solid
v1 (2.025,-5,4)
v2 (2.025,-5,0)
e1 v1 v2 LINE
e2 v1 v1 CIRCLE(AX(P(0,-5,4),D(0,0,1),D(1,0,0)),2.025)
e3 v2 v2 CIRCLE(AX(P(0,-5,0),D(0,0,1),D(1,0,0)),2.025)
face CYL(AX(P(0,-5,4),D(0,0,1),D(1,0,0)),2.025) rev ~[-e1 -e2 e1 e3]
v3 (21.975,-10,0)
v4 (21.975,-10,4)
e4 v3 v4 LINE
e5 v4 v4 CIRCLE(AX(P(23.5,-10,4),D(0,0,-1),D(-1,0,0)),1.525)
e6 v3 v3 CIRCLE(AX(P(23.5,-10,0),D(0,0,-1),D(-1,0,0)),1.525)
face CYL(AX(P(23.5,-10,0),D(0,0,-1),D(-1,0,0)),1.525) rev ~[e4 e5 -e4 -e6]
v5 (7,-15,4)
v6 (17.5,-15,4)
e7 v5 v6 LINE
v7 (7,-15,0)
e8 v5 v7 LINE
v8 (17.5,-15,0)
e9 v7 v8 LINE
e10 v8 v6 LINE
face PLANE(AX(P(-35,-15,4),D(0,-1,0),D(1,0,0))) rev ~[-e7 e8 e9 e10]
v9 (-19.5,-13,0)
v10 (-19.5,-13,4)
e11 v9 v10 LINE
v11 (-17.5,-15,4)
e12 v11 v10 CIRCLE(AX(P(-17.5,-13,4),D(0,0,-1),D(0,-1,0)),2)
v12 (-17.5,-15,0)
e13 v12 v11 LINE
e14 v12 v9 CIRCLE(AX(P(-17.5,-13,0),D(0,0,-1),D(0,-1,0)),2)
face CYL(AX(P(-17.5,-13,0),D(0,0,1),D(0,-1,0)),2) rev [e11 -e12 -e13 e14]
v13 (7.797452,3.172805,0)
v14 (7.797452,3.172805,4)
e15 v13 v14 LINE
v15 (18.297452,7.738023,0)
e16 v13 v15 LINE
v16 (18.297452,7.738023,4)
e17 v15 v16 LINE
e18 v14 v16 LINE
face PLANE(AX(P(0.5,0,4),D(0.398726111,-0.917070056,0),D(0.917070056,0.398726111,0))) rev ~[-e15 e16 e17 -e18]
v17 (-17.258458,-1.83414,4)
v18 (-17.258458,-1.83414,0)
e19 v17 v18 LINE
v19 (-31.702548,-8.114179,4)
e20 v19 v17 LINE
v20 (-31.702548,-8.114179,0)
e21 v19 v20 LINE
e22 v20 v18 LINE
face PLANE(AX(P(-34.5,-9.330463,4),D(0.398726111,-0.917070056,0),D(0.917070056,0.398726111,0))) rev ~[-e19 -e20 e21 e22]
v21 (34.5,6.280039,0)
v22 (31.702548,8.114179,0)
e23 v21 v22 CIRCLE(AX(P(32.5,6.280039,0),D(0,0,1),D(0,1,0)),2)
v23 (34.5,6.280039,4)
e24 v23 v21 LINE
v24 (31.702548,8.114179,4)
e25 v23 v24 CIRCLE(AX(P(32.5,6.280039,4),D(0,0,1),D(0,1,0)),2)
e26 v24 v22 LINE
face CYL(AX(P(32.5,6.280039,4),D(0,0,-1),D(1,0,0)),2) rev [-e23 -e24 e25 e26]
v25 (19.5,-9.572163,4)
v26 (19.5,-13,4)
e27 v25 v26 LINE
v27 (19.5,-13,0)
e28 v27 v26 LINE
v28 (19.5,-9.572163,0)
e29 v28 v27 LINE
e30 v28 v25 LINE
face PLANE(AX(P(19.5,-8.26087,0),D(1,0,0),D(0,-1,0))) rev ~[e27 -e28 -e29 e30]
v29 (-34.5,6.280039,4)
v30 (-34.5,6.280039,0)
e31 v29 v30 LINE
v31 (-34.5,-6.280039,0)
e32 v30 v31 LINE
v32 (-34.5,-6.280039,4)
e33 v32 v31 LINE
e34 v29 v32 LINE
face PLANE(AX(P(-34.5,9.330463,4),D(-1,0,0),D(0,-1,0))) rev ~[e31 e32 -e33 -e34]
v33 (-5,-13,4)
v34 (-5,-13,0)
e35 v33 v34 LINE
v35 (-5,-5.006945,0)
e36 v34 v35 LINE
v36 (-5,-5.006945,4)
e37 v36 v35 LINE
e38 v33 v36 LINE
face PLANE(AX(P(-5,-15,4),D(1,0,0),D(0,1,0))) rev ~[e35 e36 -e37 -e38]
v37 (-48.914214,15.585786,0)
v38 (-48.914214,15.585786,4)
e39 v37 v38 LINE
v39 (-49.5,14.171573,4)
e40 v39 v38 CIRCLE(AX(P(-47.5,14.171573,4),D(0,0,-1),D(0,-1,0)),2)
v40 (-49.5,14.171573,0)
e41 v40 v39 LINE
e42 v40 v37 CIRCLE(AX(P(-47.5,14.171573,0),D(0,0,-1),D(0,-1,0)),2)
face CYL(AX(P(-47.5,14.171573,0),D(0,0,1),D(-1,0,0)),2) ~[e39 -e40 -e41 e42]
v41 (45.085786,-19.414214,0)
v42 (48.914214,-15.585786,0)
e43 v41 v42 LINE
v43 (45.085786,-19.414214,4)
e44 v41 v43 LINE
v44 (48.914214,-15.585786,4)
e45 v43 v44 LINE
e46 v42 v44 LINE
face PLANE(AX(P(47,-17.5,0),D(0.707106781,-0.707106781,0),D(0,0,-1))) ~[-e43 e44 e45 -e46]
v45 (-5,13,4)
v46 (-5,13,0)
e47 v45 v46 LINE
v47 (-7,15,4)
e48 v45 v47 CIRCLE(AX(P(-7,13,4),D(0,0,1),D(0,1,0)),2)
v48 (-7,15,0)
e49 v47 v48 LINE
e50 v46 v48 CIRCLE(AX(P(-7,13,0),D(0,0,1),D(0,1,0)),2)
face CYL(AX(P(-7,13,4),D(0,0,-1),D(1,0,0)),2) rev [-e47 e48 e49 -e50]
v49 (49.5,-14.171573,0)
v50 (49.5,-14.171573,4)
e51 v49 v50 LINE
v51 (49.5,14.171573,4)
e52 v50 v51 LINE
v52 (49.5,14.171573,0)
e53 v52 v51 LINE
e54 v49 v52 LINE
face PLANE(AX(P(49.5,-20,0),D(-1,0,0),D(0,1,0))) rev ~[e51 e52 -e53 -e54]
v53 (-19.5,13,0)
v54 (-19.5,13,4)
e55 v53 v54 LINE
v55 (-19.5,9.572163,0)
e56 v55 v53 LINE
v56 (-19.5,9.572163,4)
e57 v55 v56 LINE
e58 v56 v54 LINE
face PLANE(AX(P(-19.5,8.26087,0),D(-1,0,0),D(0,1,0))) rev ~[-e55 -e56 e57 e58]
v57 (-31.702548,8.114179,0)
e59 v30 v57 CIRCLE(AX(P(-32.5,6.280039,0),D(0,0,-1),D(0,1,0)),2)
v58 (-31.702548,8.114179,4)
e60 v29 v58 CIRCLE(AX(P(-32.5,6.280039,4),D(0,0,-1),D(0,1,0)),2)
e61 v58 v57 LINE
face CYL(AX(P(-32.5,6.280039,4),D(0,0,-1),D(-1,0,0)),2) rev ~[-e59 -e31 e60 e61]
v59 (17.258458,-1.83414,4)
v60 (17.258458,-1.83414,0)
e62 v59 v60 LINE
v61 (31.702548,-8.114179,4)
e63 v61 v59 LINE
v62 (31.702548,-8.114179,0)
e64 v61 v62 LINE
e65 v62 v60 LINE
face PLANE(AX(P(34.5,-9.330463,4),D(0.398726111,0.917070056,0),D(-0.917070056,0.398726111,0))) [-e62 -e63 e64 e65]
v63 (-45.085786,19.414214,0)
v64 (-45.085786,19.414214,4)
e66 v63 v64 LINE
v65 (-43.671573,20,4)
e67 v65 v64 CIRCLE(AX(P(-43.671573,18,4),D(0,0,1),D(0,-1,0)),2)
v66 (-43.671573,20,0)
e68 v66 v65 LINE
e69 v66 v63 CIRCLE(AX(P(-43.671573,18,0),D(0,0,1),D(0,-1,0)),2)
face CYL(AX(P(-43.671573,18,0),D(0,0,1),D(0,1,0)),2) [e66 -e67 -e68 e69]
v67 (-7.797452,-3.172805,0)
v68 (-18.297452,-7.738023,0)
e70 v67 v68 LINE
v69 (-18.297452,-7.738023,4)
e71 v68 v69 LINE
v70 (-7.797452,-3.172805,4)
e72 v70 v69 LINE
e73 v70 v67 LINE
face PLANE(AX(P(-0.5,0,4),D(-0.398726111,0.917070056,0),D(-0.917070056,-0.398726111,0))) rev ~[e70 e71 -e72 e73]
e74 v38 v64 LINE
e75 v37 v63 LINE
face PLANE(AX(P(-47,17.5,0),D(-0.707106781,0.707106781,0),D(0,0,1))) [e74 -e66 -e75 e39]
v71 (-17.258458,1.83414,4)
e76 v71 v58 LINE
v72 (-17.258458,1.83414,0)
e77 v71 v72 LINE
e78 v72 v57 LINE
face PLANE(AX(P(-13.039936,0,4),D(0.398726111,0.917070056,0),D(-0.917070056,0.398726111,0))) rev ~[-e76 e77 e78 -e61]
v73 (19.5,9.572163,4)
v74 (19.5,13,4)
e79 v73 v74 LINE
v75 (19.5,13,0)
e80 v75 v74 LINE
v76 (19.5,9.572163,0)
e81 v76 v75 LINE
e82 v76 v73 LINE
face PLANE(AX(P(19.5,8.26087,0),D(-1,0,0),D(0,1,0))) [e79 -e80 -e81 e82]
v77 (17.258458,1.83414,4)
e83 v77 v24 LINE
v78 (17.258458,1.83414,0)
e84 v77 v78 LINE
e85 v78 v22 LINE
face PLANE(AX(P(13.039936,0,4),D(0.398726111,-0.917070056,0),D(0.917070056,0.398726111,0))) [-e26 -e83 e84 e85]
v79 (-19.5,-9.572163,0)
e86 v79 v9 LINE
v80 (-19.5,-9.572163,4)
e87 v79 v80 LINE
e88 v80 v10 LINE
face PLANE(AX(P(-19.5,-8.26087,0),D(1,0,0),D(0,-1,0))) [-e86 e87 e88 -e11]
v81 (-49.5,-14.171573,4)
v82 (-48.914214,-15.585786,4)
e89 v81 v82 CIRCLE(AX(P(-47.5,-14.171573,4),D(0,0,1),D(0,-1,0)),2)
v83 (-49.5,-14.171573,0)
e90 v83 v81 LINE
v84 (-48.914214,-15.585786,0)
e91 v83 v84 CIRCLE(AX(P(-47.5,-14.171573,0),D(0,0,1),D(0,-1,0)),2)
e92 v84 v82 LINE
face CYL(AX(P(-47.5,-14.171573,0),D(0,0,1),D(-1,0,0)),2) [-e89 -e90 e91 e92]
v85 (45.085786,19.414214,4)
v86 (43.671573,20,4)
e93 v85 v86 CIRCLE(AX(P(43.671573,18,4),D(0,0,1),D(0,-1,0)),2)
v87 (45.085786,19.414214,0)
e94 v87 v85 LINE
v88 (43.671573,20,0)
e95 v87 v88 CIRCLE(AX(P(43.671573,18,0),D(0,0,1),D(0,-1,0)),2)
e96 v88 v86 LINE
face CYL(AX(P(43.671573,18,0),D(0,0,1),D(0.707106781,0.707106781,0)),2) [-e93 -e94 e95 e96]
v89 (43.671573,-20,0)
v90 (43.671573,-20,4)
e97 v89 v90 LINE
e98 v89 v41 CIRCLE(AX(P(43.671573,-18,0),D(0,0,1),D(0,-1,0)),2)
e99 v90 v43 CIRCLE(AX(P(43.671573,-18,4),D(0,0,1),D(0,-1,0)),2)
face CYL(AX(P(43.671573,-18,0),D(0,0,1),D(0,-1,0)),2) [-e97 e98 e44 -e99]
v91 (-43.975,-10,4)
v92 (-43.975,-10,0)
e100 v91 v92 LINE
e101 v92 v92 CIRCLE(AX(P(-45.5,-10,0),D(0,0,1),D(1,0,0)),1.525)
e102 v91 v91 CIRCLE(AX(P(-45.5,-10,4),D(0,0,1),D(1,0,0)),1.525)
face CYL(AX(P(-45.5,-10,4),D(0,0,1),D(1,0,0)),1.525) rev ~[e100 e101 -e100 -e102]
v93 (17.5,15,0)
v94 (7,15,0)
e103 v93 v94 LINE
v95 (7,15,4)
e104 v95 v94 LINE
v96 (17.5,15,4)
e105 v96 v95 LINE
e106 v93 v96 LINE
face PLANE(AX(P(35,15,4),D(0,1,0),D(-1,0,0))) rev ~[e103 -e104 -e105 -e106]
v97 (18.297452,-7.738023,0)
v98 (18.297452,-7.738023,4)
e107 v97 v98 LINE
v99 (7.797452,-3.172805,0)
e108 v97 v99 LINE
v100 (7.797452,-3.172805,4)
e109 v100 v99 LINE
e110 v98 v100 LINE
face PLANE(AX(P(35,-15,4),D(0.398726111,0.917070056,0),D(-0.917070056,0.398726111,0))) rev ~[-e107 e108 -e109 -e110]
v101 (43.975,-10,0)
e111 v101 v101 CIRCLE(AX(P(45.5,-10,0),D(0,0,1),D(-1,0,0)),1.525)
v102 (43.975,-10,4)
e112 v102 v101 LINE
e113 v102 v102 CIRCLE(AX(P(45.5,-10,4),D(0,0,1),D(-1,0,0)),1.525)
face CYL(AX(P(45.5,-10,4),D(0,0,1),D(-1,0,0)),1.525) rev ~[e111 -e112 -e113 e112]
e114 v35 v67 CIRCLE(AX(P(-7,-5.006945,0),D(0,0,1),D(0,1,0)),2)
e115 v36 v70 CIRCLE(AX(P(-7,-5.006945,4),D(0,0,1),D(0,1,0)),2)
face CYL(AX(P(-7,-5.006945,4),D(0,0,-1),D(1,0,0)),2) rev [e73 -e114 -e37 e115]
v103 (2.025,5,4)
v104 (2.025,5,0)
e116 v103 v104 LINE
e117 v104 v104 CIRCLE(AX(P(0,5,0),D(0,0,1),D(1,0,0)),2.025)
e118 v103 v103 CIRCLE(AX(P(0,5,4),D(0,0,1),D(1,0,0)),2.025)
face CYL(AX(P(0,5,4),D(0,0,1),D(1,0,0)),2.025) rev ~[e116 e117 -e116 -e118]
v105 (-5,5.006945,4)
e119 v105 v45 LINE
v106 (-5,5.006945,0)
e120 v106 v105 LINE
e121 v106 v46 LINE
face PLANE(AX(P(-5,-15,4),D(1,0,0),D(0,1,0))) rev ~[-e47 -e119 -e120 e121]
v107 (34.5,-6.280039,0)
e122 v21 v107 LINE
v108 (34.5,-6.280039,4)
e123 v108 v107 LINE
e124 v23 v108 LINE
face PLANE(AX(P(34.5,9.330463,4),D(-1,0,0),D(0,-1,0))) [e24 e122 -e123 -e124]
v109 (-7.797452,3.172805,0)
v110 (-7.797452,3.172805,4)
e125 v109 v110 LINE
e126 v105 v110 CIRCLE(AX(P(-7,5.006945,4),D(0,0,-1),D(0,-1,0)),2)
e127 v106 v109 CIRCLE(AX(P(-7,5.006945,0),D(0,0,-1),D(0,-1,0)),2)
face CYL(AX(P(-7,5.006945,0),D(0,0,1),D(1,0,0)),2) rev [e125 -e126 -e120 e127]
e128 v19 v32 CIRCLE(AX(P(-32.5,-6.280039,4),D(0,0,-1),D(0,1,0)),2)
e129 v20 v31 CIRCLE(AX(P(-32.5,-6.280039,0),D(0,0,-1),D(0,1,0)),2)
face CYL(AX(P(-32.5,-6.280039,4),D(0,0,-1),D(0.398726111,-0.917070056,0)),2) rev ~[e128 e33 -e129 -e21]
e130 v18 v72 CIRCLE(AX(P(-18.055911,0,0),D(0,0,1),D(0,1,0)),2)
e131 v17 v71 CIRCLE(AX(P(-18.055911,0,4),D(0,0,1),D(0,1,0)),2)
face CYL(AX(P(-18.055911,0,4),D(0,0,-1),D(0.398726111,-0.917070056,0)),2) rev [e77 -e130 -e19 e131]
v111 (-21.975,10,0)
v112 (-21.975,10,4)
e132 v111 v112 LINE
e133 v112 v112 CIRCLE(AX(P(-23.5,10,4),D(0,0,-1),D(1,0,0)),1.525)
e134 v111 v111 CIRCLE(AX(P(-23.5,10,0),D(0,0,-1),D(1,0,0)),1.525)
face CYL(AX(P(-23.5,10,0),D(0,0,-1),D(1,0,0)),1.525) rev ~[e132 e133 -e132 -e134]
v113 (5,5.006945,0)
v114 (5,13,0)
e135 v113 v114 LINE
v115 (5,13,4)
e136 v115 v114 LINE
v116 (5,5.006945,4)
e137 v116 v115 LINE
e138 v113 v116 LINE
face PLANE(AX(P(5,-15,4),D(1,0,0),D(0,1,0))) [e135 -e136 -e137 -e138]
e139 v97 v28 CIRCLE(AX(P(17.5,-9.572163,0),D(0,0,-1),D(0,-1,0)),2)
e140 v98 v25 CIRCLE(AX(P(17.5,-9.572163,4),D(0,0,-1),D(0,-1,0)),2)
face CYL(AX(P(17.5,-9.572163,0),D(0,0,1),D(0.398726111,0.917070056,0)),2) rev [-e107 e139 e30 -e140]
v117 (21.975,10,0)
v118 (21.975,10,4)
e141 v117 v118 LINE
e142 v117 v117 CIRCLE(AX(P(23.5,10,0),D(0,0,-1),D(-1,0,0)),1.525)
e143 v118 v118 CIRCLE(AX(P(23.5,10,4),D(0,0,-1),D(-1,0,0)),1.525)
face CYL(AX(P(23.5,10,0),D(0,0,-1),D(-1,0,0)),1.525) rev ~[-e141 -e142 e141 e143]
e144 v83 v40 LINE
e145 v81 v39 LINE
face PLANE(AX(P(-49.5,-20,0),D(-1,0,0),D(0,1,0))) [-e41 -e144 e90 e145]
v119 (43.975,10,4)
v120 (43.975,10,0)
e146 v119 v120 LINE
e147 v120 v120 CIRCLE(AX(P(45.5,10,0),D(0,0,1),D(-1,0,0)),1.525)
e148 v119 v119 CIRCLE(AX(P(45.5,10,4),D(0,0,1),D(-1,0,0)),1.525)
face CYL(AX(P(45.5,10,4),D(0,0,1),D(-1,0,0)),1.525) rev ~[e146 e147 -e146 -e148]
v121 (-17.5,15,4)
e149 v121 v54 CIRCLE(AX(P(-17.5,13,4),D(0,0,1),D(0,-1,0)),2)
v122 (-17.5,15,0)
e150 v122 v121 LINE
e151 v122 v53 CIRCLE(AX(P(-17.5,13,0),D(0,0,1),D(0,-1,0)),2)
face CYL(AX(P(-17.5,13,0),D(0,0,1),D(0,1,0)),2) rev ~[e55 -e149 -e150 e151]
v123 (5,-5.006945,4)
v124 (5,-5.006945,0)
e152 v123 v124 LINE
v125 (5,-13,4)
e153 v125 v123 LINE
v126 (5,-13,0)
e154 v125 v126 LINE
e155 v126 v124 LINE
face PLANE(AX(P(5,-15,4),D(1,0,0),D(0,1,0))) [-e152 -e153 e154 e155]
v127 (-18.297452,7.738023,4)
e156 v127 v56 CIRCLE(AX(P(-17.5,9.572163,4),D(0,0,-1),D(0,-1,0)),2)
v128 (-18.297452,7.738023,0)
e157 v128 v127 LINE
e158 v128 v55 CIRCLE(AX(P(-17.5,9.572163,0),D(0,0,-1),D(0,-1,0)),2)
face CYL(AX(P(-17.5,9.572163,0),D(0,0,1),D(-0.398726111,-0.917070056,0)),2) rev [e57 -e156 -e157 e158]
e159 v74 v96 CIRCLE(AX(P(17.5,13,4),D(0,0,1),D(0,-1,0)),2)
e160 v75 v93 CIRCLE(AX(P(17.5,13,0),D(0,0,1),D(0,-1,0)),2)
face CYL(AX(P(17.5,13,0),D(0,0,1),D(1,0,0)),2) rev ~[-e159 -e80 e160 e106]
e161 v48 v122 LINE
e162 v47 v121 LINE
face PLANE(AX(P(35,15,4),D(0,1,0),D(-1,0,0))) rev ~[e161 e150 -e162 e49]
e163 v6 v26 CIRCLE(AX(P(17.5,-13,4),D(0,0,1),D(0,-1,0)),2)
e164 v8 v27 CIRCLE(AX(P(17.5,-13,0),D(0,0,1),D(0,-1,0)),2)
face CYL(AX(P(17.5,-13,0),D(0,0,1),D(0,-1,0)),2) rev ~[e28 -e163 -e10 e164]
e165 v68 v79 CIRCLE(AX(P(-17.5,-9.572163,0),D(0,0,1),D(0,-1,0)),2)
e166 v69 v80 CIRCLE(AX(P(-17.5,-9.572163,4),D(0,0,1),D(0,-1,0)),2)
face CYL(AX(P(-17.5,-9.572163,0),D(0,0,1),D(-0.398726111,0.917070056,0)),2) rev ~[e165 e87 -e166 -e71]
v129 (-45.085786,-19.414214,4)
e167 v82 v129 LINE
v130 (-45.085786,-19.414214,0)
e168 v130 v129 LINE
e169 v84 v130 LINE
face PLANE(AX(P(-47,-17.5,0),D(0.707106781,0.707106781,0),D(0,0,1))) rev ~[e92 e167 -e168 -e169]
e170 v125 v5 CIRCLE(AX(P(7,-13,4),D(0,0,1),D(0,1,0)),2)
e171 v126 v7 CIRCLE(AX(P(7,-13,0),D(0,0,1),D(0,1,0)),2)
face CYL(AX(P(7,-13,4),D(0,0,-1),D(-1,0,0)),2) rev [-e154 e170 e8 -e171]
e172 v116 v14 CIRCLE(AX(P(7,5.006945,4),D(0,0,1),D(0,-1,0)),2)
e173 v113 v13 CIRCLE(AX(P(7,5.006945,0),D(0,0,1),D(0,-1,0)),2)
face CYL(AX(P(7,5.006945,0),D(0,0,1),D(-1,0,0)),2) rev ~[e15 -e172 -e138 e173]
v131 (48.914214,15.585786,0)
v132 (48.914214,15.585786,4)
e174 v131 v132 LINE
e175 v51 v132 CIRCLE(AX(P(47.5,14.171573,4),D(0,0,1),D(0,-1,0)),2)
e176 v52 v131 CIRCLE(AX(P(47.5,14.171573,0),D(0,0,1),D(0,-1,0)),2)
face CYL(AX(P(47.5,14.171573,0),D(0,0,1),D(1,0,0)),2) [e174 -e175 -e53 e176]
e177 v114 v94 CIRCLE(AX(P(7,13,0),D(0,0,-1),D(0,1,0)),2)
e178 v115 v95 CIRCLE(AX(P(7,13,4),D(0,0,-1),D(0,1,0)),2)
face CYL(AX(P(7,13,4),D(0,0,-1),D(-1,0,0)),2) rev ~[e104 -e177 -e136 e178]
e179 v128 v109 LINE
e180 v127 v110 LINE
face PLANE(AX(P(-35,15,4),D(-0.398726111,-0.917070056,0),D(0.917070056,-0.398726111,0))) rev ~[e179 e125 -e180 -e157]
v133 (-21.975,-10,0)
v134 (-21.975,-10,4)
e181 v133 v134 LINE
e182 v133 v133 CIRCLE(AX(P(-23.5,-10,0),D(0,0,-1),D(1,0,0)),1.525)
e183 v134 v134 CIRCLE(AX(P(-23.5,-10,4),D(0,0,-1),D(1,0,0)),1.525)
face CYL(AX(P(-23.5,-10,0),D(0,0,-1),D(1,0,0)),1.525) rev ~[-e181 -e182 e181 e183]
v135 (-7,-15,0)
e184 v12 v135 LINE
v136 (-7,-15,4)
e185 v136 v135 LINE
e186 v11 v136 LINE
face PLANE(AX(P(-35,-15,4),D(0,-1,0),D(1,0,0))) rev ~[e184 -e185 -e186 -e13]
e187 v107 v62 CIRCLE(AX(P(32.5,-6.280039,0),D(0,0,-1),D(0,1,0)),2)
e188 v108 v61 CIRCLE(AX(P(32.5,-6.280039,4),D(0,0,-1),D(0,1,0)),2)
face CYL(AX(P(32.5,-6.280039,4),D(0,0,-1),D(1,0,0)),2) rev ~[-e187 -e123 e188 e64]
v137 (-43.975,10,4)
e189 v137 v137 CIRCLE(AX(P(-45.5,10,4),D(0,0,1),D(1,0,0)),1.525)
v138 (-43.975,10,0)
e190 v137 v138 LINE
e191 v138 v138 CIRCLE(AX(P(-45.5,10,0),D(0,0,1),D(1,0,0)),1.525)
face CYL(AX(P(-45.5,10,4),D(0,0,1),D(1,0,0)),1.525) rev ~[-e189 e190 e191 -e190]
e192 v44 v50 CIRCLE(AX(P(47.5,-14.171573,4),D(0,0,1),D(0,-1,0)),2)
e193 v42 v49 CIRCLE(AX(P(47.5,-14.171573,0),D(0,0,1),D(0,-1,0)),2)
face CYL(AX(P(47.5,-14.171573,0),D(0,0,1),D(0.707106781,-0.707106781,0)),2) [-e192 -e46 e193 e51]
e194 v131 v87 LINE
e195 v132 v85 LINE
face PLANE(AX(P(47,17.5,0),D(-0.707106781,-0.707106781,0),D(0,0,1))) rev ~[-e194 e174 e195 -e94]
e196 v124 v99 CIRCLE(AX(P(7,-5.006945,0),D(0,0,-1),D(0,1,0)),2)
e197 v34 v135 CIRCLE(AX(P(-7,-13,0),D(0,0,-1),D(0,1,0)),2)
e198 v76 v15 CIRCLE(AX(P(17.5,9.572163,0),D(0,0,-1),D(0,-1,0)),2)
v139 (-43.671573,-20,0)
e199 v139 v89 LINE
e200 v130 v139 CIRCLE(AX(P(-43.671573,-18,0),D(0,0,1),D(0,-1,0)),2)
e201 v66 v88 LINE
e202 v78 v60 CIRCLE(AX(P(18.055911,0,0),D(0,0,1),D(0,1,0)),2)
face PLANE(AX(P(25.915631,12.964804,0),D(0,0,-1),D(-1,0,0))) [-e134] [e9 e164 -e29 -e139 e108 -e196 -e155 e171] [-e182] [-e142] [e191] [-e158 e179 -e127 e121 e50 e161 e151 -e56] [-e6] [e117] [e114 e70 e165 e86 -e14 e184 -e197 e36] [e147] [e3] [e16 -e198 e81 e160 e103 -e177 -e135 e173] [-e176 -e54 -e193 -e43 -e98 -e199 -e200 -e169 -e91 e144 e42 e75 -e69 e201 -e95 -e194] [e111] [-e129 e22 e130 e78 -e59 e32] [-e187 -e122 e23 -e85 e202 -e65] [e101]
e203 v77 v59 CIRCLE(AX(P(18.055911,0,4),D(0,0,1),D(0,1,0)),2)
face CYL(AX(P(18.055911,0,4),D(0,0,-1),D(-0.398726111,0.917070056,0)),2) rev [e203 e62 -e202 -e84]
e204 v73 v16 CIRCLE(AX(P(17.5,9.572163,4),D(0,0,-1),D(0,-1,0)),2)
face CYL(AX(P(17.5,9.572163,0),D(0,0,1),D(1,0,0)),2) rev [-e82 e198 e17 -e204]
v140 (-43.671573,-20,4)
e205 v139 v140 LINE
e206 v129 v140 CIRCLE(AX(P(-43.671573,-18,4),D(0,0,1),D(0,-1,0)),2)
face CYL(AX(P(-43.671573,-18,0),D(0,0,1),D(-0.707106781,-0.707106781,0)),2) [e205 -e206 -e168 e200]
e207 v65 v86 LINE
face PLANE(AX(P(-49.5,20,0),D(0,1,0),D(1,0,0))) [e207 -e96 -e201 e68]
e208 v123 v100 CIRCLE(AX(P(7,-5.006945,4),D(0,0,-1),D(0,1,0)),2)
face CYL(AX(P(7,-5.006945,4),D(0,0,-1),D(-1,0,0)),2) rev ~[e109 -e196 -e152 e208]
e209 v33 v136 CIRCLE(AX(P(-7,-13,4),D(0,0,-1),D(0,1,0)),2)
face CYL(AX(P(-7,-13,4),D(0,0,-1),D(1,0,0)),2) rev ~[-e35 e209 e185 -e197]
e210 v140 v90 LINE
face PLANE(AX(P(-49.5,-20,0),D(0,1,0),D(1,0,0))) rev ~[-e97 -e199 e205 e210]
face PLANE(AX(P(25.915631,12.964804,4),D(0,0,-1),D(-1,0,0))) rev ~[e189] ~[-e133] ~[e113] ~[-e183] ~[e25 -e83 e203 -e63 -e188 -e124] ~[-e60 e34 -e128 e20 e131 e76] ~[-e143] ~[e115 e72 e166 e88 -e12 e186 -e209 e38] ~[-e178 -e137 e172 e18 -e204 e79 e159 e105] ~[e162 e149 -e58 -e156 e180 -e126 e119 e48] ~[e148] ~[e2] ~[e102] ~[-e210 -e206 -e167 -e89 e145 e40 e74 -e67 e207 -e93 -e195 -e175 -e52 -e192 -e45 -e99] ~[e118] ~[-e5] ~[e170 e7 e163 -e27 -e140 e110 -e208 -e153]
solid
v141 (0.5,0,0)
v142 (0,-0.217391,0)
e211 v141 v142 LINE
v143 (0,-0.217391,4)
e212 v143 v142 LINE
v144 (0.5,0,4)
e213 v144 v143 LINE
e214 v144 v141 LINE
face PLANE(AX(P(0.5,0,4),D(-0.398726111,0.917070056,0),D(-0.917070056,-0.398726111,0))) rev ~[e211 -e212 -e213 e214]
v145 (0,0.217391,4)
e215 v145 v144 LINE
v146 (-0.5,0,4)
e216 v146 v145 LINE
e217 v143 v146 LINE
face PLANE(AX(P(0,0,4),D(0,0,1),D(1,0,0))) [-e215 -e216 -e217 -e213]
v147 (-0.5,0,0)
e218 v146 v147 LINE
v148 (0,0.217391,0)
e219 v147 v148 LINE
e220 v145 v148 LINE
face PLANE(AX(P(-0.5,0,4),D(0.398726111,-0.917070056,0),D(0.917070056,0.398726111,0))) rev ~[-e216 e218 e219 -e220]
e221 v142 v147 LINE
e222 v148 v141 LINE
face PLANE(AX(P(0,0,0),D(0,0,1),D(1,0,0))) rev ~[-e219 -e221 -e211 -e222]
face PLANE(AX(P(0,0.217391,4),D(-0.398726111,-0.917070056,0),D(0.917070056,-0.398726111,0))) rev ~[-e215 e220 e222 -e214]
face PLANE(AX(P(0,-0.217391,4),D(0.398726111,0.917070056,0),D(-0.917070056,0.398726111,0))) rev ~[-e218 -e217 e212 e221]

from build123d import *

# Parameters (mm, degrees)
SKETCH_1_W          = 99
SKETCH_1_H          = 40
EXTRUDE_1_DEPTH     = 4
CHAMFER_1_SIZE      = 5
SKETCH_3_R          = 1.525
CUT_EXTRUDE_1_DEPTH = 10
CUT_EXTRUDE_2_DEPTH = 10
SKETCH_5_W          = 10
SKETCH_5_H          = 30
EXTRUDE_2_DEPTH     = 4
FILLET_2_R          = 2
FILLET_3_R          = 2
EXTRUDE_3_DEPTH     = 4
FILLET_4_R          = 2
SKETCH_7_R          = 1.525
CUT_EXTRUDE_3_DEPTH = 54.537370126
SKETCH_8_R          = 2.025
CUT_EXTRUDE_4_DEPTH = 4


with BuildPart() as part:
    # 草图1 → 凸台-拉伸1 (new body)
    with BuildSketch(Plane.XY):
        Rectangle(SKETCH_1_W, SKETCH_1_H)
    extrude(amount=EXTRUDE_1_DEPTH)

    # 倒角1
    chamfer_1_edges = [part.edges().sort_by_distance(p)[0] for p in [
        (49.5, -20, 2),
        (-49.5, -20, 2),
        (-49.5, 20, 2),
        (49.5, 20, 2),
    ]]
    chamfer(chamfer_1_edges, length=CHAMFER_1_SIZE)

    # 草图3 → 切除-拉伸1 (cut)
    with BuildSketch(Plane.XY.offset(4)):
        with Locations((-45.5, 10)):
            Circle(SKETCH_3_R)
        with Locations((-45.5, -10)):
            Circle(SKETCH_3_R)
        with Locations(Location((45.5, -10, 0), (0, 0, 180))):
            Circle(SKETCH_3_R)
        with Locations(Location((45.5, 10, 0), (0, 0, 180))):
            Circle(SKETCH_3_R)
    extrude(amount=-CUT_EXTRUDE_1_DEPTH, mode=Mode.SUBTRACT)

    # 草图4 → 切除-拉伸2 (cut)
    with BuildSketch(Plane.XY.offset(4)):
        Polygon((35, 15), (-35, 15), (-0.5, 0), (0, 0.217391304), (0.5, 0), align=None)
        Polygon((0, -0.217391304), (-0.5, 0), (-35, -15), (35, -15), (0.5, 0), align=None)
        Polygon((-34.5, -9.33046252), (-13.039936204, 0), (-34.5, 9.33046252), align=None)
        Polygon((34.5, -9.33046252), (13.039936204, 0), (34.5, 9.33046252), align=None)
    extrude(amount=-CUT_EXTRUDE_2_DEPTH, mode=Mode.SUBTRACT)


with BuildPart() as cut_extrude_2_piece_1:
    # of the separate pieces the step leaves, piece 1, a body of its own (cut_extrude_2_pieces)
    add(part.part.solids().sort_by_distance((-44.5, -20, 0))[0])

    # 草图5 → 凸台-拉伸2 (add)
    with BuildSketch(Plane.XY.offset(4)):
        Rectangle(SKETCH_5_W, SKETCH_5_H)
    extrude(amount=-EXTRUDE_2_DEPTH)

    # 圆角2
    fillet_2_edges = [cut_extrude_2_piece_1.edges().sort_by_distance(p)[0] for p in [
        (34.5, -9.33046252, 2),
        (-5, -1.956521739, 2),
        (-5, -15, 2),
        (5, -1.956521739, 2),
        (-5, 15, 2),
        (-5, 1.956521739, 2),
        (5, -15, 2),
        (5, 1.956521739, 2),
        (5, 15, 2),
        (-35, 15, 2),
        (35, 15, 2),
        (35, -15, 2),
        (-35, -15, 2),
        (-34.5, -9.33046252, 2),
        (-34.5, 9.33046252, 2),
        (-13.039936204, 0, 2),
        (13.039936204, 0, 2),
        (34.5, 9.33046252, 2),
    ]]
    fillet(fillet_2_edges, radius=FILLET_2_R)

    # 圆角3
    fillet_3_edges = [cut_extrude_2_piece_1.edges().sort_by_distance(p)[0] for p in [
        (49.5, -15, 2),
        (49.5, 15, 2),
        (44.5, 20, 2),
        (-44.5, 20, 2),
        (-49.5, -15, 2),
        (-49.5, 15, 2),
        (44.5, -20, 2),
        (-44.5, -20, 2),
    ]]
    fillet(fillet_3_edges, radius=FILLET_3_R)

    # 草图6 → 凸台-拉伸3 (add)
    with BuildSketch(Plane(origin=(0, 0, 0), x_dir=(-1, 0, 0), z_dir=(0, 0, -1))):
        Polygon((-19.5, 8.260869565), (-19.5, 15), (-35, 15), align=None)
        Polygon((35, 15), (19.5, 8.260869565), (19.5, 15), align=None)
        Polygon((19.5, -8.260869565), (19.5, -15), (35, -15), align=None)
        Polygon((-35, -15), (-19.5, -8.260869565), (-19.5, -15), align=None)
    extrude(amount=-EXTRUDE_3_DEPTH)

    # 圆角4
    fillet_4_edges = [cut_extrude_2_piece_1.edges().sort_by_distance(p)[0] for p in [
        (19.5, 8.260869565, 2),
        (19.5, 15, 2),
        (-19.5, 15, 2),
        (-19.5, 8.260869565, 2),
        (-19.5, -8.260869565, 2),
        (-19.5, -15, 2),
        (19.5, -15, 2),
        (19.5, -8.260869565, 2),
    ]]
    fillet(fillet_4_edges, radius=FILLET_4_R)

    # 草图7 → 切除-拉伸3 (cut, through all)
    with BuildSketch(Plane(origin=(0, 0, 0), x_dir=(-1, 0, 0), z_dir=(0, 0, -1))):
        with Locations((-23.5, 10)):
            Circle(SKETCH_7_R)
        with Locations((-23.5, -10)):
            Circle(SKETCH_7_R)
        with Locations(Location((23.5, -10, 0), (0, 0, 180))):
            Circle(SKETCH_7_R)
        with Locations(Location((23.5, 10, 0), (0, 0, 180))):
            Circle(SKETCH_7_R)
    extrude(amount=-CUT_EXTRUDE_3_DEPTH, mode=Mode.SUBTRACT)

    # 草图8 → 切除-拉伸4 (cut)
    with BuildSketch(Plane.XY.offset(4)):
        with Locations((0, 5)):
            Circle(SKETCH_8_R)
        with Locations((0, -5)):
            Circle(SKETCH_8_R)
    extrude(amount=-CUT_EXTRUDE_4_DEPTH, mode=Mode.SUBTRACT)


with BuildPart() as cut_extrude_2_piece_2:
    # of the separate pieces the step leaves, piece 2, a body of its own (cut_extrude_2_pieces)
    add(part.part.solids().sort_by_distance((0, -0.217391304, 0))[0])


solid = Compound([cut_extrude_2_piece_1.part, cut_extrude_2_piece_2.part])
